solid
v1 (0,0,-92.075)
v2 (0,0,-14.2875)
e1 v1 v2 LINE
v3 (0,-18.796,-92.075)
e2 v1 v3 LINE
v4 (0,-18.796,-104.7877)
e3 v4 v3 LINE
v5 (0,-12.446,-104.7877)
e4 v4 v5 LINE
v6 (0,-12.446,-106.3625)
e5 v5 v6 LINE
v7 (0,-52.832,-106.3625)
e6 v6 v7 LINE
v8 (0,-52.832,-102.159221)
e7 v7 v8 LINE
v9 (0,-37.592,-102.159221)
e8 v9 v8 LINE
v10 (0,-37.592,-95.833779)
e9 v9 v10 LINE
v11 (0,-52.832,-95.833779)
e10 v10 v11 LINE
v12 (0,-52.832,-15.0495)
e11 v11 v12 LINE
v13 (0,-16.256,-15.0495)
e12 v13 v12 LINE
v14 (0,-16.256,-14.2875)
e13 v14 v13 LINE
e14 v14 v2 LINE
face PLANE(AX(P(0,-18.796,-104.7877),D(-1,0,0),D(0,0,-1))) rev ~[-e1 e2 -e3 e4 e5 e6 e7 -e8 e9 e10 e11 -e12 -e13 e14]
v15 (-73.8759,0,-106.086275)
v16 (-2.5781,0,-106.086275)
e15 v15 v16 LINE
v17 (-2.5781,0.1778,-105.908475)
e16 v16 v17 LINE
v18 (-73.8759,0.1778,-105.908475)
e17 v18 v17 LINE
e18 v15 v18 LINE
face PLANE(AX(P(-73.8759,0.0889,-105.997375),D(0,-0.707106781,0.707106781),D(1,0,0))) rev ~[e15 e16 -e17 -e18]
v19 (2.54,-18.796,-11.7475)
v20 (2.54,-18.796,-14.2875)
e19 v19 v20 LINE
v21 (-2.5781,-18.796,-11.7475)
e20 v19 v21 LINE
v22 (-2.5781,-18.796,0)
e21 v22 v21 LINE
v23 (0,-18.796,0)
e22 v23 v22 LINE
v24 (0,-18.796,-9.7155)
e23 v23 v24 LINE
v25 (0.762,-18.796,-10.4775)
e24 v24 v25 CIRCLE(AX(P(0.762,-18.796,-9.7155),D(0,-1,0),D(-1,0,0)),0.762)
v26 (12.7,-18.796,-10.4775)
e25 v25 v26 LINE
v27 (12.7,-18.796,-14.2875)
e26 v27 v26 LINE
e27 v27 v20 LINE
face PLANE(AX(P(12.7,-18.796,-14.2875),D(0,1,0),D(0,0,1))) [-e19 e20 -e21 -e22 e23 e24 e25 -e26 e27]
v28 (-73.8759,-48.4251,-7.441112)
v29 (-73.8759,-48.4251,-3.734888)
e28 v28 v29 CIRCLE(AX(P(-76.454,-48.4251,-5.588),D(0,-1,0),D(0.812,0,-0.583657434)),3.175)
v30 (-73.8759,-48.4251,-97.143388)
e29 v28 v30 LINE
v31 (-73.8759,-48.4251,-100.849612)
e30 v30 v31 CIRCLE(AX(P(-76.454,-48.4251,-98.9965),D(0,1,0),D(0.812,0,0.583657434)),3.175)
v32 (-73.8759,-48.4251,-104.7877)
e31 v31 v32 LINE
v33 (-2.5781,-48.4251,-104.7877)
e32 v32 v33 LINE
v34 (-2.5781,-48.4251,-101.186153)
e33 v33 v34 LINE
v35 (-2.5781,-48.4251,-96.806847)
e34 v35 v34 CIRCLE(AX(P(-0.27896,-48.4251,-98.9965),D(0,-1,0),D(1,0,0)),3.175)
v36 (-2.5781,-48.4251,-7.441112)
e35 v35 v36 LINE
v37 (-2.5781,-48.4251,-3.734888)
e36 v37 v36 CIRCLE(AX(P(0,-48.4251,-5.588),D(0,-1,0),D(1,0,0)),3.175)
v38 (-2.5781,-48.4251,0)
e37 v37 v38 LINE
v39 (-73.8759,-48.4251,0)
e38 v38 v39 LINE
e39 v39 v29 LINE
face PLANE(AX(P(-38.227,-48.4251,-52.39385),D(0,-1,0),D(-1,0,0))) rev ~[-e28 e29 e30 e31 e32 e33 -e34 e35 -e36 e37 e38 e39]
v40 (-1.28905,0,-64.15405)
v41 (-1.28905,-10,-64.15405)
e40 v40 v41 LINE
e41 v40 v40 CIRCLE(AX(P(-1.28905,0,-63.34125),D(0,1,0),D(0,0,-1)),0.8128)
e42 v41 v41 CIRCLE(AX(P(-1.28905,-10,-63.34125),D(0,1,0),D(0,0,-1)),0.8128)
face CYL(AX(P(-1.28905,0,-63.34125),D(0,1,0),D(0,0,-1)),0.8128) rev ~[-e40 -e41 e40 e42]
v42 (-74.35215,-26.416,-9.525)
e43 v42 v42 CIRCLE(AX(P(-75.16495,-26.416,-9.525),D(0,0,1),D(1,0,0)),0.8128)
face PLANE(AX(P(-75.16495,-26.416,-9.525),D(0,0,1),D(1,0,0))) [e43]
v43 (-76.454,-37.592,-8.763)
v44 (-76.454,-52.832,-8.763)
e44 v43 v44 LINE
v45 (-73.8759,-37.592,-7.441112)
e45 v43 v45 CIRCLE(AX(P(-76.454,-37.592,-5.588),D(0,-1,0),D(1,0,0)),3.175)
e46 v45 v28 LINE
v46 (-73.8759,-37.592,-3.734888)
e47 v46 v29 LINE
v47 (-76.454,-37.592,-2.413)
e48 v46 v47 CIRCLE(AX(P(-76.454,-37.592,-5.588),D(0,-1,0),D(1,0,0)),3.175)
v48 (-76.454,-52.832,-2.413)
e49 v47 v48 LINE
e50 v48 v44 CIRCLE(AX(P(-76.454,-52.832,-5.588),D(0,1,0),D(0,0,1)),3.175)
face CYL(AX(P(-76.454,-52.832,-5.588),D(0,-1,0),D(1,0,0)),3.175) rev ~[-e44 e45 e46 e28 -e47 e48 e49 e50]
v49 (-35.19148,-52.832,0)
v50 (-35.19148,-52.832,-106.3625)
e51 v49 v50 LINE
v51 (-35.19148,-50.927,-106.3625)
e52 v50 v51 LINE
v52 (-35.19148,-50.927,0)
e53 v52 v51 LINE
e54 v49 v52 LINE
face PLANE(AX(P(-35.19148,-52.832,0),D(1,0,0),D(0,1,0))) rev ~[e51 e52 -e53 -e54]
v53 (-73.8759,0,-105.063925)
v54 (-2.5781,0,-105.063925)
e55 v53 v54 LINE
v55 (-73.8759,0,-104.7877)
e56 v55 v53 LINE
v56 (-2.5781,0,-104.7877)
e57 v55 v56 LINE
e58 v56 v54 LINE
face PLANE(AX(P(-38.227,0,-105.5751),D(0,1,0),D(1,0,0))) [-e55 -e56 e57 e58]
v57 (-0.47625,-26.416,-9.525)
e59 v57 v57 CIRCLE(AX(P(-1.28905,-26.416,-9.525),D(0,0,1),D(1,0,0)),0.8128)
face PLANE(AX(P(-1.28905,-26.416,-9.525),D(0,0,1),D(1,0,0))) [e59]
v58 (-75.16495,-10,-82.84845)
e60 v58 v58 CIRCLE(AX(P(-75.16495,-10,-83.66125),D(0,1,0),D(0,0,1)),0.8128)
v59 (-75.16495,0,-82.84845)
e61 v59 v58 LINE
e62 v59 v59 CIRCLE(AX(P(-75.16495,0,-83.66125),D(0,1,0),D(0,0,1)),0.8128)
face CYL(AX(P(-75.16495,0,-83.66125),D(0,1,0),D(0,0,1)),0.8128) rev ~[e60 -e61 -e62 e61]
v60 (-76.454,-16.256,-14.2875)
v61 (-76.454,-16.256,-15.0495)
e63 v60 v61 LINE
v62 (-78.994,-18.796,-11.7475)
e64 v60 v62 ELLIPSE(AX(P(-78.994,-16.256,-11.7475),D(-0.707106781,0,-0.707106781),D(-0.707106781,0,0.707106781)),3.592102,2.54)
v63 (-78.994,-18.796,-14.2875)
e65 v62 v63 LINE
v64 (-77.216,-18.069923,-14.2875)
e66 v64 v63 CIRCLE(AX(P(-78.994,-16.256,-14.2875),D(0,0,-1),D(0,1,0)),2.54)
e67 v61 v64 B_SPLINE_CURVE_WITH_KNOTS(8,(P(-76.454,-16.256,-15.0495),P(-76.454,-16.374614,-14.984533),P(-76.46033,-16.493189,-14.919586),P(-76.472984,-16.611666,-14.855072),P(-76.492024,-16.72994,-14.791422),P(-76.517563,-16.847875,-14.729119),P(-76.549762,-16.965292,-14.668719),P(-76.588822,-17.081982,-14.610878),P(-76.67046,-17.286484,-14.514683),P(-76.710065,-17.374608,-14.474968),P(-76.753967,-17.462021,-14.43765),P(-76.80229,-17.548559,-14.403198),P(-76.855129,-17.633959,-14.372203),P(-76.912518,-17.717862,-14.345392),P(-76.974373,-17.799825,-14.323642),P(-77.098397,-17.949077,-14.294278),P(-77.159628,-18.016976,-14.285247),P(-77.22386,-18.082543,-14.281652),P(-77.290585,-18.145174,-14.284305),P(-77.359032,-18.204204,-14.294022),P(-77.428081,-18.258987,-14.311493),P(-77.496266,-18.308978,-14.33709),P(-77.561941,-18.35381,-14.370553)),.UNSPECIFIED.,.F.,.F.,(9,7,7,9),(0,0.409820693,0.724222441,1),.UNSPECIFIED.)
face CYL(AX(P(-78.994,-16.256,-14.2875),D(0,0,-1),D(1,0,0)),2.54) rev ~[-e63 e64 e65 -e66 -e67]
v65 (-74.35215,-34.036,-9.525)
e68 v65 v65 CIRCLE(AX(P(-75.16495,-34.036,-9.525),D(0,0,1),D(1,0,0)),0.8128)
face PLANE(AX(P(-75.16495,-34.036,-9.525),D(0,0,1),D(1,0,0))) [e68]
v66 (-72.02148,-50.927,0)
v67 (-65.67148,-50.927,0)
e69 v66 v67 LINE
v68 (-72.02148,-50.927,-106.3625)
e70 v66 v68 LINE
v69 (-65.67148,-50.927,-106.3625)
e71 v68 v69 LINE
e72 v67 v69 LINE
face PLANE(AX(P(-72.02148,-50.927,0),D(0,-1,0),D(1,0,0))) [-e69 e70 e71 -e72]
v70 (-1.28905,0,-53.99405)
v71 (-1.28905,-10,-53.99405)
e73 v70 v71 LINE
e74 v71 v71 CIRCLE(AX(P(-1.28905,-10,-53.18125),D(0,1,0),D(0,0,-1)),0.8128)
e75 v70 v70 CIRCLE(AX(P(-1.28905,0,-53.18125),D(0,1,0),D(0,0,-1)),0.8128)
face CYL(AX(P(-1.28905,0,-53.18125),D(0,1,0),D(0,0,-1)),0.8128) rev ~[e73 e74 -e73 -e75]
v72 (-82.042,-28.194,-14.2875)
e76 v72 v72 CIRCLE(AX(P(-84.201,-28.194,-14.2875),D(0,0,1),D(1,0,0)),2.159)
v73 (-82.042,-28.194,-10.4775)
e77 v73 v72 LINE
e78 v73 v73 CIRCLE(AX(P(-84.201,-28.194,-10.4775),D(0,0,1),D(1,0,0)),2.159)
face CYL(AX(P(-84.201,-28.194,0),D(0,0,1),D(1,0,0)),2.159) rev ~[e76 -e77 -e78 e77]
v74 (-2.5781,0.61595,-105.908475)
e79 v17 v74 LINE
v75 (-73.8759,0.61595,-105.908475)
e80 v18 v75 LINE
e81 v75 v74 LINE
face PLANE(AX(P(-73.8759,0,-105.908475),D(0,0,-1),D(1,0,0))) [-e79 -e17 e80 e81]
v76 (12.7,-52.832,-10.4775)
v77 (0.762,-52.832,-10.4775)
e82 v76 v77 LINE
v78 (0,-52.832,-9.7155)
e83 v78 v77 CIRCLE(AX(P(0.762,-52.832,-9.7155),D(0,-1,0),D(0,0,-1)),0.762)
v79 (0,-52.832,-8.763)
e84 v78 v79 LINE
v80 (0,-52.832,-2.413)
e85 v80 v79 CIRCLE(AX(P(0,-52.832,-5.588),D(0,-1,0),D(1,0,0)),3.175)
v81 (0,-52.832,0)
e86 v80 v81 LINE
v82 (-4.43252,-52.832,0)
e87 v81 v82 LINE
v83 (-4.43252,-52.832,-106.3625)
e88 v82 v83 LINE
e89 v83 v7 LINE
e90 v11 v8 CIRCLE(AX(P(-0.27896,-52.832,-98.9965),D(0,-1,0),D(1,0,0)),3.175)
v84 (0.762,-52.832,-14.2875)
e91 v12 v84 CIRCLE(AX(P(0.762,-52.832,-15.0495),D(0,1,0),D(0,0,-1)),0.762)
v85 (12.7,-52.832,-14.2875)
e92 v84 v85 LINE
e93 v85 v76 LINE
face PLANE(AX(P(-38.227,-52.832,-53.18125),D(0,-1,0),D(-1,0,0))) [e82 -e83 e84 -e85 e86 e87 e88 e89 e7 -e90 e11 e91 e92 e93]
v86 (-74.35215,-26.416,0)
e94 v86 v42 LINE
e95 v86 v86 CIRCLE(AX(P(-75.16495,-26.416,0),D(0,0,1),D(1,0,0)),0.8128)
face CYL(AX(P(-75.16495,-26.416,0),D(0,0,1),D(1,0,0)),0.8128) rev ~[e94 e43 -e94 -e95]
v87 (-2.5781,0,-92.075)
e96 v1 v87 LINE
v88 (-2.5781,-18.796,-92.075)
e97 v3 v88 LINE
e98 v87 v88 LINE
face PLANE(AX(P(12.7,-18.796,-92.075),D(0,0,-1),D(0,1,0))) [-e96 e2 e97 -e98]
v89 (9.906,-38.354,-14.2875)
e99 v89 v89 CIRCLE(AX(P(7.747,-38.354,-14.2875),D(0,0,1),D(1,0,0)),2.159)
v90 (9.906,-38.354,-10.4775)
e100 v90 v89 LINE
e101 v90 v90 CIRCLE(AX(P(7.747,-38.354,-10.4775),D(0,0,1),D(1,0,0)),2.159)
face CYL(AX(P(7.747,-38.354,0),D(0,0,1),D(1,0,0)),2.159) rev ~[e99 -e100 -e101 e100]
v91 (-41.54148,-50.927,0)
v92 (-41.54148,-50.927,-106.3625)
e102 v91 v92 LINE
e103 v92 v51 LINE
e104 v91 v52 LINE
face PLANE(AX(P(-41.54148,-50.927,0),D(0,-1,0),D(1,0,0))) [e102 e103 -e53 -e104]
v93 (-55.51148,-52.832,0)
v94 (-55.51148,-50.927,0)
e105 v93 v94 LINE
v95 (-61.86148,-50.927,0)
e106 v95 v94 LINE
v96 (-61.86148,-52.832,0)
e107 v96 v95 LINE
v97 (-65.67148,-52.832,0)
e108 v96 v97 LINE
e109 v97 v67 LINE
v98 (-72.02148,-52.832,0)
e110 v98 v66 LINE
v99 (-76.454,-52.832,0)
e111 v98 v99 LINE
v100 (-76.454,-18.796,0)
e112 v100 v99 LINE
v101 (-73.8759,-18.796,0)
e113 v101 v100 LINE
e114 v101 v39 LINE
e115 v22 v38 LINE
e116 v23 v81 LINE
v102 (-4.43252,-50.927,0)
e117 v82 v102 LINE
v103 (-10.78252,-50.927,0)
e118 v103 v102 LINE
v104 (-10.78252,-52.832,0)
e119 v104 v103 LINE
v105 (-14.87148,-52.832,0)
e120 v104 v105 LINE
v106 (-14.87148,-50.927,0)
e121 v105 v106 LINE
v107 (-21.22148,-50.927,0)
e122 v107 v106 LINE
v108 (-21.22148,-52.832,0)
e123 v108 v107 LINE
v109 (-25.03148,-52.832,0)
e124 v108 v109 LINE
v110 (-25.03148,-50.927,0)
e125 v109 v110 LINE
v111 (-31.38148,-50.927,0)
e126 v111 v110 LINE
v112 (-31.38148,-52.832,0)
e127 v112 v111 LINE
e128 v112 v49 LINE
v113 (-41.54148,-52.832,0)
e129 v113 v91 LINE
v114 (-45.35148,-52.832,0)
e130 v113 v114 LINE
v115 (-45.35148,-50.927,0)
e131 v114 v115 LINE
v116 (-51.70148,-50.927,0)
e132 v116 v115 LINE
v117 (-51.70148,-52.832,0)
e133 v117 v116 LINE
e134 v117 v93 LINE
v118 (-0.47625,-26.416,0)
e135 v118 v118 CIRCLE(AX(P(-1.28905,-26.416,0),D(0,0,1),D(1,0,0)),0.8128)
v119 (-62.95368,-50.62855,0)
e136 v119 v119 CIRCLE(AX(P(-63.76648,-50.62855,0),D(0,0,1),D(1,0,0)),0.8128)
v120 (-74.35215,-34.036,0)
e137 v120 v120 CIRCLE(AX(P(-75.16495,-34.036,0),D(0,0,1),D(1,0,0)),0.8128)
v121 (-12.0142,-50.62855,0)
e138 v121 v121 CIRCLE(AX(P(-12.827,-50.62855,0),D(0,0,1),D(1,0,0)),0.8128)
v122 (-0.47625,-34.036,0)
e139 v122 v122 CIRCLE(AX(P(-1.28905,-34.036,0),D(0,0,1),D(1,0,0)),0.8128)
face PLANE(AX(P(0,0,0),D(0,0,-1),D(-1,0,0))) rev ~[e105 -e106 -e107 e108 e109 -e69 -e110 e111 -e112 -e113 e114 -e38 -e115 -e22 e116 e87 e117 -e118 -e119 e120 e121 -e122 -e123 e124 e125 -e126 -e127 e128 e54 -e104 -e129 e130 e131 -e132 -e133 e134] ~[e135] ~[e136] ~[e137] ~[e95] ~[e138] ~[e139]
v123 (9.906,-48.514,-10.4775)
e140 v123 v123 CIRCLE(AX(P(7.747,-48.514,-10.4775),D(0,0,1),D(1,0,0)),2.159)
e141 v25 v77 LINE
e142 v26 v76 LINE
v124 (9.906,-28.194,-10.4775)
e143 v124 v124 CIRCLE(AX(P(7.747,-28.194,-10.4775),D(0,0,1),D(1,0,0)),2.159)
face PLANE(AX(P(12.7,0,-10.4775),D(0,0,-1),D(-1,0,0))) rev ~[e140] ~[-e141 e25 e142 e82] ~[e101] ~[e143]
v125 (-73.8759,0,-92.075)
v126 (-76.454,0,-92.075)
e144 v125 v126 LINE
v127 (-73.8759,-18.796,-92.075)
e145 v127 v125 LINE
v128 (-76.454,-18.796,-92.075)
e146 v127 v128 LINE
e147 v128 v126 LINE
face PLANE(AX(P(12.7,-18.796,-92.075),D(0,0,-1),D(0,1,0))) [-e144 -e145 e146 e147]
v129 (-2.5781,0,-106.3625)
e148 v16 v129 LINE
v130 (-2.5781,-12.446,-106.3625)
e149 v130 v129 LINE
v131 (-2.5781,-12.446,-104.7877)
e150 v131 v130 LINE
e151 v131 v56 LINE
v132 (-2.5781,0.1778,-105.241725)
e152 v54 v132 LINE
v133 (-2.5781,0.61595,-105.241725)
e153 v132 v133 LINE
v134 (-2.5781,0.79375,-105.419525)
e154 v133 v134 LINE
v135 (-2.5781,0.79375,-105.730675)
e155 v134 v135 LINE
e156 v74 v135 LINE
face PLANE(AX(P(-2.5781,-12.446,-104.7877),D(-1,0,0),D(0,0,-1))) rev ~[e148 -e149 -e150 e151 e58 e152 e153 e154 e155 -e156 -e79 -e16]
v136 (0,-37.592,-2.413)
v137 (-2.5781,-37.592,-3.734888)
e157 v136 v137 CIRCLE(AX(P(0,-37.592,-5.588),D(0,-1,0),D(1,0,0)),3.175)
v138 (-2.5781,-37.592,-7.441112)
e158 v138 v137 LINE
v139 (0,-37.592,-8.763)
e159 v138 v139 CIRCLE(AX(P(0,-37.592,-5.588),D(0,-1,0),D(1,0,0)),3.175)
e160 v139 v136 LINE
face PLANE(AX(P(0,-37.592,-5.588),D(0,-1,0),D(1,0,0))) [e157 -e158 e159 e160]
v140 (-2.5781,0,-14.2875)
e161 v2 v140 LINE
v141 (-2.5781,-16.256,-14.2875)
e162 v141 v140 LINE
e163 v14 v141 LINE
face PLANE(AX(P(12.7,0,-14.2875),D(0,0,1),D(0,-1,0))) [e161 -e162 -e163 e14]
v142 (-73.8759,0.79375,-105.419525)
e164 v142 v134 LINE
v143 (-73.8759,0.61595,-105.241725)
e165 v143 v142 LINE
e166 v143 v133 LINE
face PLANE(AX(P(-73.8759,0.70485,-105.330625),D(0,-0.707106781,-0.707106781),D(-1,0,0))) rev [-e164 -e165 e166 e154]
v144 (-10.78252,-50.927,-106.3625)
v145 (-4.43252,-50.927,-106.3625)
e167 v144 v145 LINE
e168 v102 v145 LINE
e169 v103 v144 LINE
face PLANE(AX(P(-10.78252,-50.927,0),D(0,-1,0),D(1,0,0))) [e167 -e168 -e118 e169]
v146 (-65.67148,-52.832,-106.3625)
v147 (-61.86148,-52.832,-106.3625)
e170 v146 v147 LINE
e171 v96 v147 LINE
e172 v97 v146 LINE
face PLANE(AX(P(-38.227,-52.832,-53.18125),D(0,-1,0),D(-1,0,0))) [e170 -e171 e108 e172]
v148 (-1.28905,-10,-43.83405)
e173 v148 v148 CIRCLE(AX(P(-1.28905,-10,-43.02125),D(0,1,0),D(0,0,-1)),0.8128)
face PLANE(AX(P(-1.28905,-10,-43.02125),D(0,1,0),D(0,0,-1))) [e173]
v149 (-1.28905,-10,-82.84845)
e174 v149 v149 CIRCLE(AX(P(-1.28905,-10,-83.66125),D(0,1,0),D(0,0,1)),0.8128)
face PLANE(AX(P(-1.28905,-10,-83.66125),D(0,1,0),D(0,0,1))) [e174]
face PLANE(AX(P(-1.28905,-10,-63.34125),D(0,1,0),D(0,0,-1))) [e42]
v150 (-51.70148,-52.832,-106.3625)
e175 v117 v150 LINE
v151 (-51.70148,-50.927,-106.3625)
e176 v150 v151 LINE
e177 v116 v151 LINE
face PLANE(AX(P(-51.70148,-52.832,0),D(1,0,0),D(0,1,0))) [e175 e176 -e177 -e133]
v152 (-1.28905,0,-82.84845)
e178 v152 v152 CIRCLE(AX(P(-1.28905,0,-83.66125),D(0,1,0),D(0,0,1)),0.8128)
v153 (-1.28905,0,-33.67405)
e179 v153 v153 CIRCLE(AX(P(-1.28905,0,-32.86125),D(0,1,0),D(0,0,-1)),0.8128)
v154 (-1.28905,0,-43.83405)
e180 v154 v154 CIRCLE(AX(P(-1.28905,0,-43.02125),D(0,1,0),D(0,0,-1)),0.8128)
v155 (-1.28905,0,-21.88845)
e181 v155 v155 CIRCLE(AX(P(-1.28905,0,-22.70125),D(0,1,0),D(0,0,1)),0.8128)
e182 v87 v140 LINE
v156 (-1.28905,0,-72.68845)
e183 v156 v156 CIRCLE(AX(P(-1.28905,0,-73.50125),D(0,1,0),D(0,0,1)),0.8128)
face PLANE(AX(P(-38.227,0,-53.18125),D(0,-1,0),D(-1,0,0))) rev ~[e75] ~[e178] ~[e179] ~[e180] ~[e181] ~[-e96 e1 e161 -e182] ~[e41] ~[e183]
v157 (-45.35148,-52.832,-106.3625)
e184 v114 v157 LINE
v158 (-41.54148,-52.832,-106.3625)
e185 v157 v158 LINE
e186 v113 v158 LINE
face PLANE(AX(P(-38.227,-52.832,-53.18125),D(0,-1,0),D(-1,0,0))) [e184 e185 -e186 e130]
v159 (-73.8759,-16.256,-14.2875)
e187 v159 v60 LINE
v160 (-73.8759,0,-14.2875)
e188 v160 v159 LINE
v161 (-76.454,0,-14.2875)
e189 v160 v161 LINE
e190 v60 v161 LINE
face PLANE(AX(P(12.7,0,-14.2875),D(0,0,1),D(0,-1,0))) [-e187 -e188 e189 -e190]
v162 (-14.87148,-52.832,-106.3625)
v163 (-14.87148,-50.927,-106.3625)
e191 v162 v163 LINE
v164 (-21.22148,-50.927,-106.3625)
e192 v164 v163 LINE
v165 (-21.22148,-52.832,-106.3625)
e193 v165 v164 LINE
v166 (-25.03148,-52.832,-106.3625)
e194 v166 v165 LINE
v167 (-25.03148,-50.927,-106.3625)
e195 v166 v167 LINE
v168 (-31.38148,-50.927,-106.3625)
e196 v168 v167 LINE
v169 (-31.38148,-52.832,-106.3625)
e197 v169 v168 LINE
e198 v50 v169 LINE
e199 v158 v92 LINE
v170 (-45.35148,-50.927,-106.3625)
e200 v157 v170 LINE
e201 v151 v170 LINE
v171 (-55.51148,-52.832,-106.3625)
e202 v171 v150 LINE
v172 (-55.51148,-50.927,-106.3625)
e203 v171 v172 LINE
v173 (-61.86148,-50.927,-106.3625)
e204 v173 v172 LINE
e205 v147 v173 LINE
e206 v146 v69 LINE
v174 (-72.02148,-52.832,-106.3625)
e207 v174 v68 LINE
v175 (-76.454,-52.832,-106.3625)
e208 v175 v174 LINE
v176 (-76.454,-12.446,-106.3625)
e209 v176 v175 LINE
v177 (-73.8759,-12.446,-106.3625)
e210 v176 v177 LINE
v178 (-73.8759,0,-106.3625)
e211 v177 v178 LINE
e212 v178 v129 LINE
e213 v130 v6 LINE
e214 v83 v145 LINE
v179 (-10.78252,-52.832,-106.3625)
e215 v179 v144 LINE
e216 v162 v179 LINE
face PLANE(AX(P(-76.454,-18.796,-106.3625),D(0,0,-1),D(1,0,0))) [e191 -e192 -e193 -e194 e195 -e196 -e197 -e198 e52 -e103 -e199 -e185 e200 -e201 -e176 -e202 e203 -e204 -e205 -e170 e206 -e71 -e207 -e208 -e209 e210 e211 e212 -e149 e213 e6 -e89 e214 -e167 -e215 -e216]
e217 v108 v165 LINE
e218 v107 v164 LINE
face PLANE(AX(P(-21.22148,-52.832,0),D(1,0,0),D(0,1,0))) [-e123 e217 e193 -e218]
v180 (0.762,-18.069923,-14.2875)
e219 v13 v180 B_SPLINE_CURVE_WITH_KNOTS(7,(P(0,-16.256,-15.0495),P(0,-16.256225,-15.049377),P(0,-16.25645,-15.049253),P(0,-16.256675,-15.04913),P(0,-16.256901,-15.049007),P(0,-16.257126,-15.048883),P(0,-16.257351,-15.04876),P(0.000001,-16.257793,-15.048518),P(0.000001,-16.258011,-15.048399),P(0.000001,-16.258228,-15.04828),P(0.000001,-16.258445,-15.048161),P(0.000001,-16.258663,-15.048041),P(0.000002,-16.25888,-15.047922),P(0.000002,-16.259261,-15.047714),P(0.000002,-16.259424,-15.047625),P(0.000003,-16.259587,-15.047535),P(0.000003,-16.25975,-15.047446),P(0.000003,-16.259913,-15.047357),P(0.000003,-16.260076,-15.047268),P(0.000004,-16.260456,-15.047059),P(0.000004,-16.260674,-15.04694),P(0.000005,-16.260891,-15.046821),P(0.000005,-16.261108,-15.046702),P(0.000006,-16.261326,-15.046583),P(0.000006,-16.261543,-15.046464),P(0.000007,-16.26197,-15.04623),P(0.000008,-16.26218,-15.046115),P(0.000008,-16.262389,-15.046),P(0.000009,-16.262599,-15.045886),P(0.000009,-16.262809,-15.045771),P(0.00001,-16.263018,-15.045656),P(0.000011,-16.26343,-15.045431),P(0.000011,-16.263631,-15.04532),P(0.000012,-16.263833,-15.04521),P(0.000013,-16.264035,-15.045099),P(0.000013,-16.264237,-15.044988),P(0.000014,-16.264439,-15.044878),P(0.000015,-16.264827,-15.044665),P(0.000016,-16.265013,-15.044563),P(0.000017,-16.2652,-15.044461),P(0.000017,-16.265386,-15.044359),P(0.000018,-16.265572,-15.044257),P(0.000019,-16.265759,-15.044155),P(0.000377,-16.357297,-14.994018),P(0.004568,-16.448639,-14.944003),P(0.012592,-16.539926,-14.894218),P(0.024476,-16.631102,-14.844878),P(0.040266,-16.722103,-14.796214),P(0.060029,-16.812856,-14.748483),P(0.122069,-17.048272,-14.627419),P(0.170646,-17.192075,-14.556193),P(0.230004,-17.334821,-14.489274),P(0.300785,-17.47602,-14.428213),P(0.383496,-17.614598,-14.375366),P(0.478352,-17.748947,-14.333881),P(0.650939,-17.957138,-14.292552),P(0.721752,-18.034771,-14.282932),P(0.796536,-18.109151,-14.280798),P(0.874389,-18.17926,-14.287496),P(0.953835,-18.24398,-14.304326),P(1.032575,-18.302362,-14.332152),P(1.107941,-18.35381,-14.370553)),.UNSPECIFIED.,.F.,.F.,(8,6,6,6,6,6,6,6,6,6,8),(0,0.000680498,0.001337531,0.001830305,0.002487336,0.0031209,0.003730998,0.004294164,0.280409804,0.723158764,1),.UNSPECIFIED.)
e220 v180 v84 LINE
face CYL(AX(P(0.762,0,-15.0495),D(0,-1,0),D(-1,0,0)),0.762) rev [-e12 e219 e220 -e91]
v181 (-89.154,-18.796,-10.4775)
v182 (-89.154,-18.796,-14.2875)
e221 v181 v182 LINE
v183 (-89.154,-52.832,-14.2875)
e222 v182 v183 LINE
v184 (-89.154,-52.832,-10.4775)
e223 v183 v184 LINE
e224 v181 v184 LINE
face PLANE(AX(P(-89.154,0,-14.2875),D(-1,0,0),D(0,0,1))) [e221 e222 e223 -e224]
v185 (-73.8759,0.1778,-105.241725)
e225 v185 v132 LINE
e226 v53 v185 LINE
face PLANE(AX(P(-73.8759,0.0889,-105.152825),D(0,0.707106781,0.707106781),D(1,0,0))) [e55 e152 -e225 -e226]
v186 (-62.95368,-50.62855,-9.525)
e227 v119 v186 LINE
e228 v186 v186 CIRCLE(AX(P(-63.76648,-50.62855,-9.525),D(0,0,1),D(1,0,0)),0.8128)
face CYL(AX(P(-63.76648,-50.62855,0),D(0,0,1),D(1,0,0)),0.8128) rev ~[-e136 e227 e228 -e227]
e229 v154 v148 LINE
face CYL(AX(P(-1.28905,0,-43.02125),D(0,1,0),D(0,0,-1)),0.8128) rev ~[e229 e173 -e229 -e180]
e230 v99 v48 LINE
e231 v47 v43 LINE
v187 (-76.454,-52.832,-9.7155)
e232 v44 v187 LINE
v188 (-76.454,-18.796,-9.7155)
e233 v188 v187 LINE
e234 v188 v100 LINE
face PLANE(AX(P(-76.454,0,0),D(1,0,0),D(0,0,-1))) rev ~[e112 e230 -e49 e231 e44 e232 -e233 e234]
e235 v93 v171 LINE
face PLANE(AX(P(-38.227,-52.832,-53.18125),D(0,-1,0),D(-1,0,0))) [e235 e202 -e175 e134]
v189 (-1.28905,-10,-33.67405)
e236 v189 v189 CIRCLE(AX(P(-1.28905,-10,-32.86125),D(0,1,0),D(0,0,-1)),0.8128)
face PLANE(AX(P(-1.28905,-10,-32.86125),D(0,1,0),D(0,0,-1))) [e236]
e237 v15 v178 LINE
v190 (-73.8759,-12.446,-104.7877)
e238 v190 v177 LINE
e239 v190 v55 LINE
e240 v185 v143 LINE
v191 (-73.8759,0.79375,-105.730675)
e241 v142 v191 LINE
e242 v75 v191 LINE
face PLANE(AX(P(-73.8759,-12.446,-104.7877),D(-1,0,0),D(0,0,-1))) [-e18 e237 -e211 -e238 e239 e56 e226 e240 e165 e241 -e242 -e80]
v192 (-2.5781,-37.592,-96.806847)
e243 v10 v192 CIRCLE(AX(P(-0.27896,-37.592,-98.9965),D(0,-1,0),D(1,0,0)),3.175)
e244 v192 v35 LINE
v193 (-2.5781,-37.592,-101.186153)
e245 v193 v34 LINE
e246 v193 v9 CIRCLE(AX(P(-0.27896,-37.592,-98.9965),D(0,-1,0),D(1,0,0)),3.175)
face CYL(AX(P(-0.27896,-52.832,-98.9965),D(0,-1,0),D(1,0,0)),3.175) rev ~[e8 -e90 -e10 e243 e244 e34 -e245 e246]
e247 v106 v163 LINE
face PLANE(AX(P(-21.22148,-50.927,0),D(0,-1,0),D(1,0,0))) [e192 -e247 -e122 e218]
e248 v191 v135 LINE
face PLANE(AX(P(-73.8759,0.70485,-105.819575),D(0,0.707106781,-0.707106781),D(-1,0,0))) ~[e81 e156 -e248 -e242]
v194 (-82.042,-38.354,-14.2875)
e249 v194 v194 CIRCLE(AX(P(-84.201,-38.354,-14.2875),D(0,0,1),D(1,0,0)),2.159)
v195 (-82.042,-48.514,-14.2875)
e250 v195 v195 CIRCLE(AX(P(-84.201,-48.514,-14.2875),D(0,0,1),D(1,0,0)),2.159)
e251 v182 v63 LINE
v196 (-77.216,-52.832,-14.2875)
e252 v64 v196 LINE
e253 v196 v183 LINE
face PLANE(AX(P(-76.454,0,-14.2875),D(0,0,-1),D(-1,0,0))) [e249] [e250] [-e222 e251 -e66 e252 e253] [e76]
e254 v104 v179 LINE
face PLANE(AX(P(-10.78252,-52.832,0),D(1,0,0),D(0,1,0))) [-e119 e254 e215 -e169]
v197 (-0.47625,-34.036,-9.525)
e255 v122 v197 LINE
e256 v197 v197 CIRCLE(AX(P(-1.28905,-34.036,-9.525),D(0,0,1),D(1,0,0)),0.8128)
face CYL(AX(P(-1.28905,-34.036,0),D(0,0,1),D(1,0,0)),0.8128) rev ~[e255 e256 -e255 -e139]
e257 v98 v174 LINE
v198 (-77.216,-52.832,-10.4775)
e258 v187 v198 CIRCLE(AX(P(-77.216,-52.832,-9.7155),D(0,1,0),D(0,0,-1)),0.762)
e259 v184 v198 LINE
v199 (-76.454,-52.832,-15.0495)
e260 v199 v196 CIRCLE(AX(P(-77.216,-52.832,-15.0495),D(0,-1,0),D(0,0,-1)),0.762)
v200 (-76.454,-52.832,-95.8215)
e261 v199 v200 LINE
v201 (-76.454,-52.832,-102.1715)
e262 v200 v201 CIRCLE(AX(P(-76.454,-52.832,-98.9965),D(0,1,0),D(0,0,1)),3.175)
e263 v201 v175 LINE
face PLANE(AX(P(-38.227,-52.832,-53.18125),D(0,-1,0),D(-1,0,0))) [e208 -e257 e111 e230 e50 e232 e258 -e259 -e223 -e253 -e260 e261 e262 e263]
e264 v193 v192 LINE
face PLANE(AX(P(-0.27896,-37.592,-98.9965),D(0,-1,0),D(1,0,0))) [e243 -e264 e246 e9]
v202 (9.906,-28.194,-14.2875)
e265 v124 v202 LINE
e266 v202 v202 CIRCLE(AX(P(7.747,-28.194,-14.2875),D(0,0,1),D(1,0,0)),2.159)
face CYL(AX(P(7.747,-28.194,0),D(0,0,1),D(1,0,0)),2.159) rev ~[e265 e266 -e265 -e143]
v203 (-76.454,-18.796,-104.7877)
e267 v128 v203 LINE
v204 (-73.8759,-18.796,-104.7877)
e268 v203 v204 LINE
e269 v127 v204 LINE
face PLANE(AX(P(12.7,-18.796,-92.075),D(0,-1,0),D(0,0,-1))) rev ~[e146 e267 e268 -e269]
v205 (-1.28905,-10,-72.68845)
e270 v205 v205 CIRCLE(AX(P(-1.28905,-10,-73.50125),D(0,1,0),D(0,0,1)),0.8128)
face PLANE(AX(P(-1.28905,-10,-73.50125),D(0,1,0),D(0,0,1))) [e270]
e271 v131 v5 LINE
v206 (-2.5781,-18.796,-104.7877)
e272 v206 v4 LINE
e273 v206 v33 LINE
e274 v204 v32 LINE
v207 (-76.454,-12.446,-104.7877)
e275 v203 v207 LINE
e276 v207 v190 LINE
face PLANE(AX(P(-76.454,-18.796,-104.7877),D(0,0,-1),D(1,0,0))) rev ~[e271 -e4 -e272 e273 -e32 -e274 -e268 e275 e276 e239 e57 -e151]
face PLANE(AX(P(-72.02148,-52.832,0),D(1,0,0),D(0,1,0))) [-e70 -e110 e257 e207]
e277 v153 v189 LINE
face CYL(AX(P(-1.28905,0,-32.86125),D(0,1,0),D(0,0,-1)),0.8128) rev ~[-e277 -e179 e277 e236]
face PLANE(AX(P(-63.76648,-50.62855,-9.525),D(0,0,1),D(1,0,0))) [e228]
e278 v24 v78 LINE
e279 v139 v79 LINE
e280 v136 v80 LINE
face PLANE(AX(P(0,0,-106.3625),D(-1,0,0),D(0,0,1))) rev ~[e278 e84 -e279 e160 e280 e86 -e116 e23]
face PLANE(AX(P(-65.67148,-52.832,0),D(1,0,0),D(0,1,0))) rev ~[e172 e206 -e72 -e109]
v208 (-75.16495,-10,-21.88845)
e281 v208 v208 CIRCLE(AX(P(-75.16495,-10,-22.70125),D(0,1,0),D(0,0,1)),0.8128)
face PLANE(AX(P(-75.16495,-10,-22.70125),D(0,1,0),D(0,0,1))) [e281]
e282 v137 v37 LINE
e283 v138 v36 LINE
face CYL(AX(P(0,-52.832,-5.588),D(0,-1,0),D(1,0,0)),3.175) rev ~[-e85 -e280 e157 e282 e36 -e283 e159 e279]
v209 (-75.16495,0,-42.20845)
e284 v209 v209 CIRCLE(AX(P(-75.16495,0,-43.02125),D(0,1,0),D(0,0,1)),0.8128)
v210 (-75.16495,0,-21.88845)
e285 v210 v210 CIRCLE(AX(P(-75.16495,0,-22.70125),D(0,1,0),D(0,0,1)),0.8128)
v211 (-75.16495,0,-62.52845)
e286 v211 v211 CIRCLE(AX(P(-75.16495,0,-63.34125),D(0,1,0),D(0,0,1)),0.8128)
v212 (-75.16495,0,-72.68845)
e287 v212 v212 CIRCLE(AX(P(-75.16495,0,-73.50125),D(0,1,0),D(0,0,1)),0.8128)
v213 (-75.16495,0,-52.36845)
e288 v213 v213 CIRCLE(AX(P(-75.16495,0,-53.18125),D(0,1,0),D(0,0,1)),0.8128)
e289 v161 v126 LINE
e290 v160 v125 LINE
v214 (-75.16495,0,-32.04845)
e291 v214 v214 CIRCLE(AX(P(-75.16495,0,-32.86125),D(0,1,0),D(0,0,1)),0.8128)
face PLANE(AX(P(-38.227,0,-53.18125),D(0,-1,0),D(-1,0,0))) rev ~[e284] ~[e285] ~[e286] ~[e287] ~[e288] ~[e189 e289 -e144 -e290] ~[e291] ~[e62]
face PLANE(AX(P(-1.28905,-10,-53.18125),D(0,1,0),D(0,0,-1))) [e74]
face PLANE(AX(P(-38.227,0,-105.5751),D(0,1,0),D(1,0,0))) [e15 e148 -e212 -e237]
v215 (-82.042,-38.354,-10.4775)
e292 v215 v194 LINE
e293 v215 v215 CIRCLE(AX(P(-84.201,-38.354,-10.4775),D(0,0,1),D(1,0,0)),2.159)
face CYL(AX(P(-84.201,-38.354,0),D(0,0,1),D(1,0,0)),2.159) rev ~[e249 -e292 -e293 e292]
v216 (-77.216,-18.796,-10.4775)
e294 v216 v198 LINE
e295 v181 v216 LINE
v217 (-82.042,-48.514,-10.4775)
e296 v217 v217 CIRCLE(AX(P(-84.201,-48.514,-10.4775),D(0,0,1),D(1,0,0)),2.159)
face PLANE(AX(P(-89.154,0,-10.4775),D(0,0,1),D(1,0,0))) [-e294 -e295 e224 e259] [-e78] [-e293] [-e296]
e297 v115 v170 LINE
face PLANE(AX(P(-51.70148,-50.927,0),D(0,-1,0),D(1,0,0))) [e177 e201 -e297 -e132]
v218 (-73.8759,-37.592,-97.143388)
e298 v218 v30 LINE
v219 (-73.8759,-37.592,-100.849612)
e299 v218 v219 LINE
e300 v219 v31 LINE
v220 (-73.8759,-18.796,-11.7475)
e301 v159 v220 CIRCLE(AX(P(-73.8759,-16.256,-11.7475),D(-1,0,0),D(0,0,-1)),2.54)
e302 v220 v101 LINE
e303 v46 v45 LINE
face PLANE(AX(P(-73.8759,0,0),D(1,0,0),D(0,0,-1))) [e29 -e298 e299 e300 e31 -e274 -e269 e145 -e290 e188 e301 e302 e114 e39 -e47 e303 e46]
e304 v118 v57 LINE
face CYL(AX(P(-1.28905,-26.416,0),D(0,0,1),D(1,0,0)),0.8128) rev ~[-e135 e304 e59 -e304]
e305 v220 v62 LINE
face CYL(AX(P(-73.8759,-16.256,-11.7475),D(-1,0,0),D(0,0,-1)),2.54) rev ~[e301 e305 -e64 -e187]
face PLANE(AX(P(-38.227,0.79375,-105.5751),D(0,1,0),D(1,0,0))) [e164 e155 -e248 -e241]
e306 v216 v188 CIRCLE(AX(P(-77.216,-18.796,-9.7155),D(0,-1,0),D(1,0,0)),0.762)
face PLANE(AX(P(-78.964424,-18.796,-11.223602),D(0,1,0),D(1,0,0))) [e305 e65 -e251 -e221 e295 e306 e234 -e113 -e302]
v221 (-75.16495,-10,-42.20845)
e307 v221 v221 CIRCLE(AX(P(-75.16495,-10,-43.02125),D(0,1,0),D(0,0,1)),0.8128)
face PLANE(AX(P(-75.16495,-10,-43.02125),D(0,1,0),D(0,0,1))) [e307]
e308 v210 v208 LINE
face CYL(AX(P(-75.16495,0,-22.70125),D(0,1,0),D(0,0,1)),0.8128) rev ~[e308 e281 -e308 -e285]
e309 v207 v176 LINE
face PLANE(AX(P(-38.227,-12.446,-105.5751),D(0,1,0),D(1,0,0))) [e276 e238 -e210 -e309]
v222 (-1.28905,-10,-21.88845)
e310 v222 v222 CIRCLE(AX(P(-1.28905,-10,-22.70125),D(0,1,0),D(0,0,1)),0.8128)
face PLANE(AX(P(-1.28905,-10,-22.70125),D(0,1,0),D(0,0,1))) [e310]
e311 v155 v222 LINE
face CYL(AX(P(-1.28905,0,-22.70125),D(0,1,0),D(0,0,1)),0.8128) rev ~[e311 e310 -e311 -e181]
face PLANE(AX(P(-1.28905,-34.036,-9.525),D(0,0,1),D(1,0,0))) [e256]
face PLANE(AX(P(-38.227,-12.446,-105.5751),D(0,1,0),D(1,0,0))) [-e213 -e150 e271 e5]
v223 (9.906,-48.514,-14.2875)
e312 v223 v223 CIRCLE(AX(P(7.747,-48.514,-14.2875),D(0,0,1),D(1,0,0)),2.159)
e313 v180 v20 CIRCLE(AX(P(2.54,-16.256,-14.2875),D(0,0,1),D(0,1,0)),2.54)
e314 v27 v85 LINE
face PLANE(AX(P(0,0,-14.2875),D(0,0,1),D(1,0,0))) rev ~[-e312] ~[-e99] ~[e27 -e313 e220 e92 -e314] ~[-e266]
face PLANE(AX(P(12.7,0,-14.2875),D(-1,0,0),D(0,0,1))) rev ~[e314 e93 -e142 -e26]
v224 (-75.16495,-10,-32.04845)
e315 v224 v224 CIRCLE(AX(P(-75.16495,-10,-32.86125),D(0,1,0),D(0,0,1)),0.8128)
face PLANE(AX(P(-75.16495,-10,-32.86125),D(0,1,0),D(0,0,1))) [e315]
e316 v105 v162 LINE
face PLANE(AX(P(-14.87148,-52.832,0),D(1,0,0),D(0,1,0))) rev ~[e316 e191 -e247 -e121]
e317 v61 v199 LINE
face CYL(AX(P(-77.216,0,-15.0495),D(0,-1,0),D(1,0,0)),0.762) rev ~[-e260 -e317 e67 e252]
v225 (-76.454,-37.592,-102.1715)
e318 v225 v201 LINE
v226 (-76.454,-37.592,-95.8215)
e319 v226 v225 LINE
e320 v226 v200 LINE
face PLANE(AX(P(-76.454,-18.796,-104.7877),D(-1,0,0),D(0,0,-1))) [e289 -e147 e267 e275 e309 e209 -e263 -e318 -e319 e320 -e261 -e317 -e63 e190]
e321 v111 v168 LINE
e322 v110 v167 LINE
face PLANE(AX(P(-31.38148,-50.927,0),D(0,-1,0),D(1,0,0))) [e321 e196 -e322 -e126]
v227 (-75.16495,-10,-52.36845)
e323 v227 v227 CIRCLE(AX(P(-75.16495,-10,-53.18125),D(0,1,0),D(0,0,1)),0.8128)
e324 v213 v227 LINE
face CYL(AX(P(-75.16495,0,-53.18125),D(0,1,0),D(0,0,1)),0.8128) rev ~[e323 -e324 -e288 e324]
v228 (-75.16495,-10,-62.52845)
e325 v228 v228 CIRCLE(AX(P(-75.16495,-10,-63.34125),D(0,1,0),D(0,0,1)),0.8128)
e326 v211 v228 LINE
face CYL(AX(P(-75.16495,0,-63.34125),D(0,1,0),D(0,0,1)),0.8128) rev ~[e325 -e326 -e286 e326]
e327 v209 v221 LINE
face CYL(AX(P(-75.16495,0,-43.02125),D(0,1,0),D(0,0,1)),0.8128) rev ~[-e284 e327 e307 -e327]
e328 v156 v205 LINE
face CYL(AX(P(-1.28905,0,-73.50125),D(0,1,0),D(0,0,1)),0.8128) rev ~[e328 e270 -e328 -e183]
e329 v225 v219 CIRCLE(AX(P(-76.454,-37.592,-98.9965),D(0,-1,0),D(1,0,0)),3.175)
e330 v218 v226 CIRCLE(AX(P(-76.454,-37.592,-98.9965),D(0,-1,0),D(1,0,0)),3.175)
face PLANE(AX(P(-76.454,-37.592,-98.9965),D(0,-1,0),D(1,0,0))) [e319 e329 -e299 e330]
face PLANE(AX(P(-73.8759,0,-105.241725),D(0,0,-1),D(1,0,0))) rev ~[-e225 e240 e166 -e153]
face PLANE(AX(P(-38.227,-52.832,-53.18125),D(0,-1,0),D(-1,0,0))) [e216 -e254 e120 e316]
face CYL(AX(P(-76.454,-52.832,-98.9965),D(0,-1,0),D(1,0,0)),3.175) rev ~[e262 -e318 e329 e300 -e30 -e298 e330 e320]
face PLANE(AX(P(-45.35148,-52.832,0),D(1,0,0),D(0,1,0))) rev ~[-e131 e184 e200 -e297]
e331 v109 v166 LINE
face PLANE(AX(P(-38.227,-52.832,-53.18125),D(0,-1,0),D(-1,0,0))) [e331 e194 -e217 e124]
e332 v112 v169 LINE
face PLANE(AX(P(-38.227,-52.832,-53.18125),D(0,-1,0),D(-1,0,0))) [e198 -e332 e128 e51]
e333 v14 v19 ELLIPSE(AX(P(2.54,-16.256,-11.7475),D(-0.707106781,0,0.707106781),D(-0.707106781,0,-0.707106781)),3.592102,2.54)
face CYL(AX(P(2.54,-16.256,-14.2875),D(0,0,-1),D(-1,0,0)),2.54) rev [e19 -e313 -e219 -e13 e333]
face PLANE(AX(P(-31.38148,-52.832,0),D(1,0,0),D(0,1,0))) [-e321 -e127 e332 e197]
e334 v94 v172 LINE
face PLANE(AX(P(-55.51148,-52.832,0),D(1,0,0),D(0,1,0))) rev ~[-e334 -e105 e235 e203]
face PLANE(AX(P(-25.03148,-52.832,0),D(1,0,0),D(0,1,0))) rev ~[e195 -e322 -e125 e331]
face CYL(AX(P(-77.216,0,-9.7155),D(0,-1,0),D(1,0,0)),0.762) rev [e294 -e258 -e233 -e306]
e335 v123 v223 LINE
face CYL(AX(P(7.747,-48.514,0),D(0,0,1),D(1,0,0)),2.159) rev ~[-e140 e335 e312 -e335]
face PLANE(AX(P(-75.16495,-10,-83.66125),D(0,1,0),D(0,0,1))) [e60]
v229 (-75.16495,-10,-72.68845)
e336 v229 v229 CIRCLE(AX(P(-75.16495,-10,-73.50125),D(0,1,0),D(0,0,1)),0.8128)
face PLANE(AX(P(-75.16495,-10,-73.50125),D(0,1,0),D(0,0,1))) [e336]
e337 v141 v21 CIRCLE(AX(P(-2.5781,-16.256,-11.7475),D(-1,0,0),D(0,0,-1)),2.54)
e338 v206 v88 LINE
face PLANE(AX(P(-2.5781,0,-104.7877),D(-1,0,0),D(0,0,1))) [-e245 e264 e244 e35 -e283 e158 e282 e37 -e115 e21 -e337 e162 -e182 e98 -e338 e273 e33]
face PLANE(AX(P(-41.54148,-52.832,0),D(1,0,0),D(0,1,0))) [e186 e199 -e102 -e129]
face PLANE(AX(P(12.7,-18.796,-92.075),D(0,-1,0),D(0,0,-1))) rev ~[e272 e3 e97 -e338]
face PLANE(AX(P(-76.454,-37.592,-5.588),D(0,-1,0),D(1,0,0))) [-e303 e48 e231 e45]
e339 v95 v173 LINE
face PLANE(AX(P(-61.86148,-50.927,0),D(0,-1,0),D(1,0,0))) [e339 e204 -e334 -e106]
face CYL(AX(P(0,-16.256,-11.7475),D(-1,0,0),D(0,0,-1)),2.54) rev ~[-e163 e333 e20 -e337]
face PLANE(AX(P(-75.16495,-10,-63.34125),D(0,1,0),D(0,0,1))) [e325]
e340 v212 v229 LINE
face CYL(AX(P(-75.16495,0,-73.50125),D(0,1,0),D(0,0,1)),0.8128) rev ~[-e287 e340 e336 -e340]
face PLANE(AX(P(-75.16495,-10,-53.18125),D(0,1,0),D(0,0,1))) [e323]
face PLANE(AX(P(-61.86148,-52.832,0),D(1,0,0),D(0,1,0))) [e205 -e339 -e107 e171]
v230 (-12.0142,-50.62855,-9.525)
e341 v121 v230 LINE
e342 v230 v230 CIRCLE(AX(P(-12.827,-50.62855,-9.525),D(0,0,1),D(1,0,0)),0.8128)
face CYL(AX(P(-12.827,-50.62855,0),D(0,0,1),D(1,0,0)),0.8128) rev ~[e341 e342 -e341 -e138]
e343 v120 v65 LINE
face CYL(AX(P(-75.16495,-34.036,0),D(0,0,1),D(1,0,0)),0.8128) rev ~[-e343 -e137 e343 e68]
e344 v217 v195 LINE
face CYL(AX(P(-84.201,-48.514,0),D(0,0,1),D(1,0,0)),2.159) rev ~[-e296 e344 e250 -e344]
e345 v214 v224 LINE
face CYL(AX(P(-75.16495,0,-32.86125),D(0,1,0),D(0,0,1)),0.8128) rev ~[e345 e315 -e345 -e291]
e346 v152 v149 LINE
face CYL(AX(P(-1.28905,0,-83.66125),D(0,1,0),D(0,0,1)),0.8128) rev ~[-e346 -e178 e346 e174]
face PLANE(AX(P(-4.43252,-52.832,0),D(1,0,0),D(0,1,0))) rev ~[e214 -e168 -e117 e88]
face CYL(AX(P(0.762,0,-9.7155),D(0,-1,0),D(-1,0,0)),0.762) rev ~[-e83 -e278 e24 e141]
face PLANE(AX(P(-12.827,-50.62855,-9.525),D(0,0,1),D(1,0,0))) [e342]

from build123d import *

# Parameters (mm, degrees)
BASE_DEPTH         = 52.831999999999994
BATTERY_HOLE_DEPTH = 48.4251
EXTRUDE3_DEPTH     = 52.831999999999994
FILLET1_R          = 0.762
SKETCH6_W          = 6.350000000000001
SKETCH6_H          = 1.904999999999987
SKETCH6_W_2        = 6.349999999999994
EXTRUDE5_DEPTH     = 106.3625
SKETCH5_R          = 0.812800000000009
SKETCH5_R_2        = 0.8128000000000078
SKETCH5_R_3        = 0.812799999999968
EXTRUDE6_DEPTH     = 9.525
SKETCH10_R         = 3.1749999999999976
SKETCH10_R_2       = 3.1750000000000003
EXTRUDE8_DEPTH     = 15.239999999999998
SKETCH12_W         = 14.28749999999998
SKETCH12_H         = 18.795999999999985
EXTRUDE9_DEPTH     = 157.4558690054483
SKETCH13_R         = 0.8128000000000039
SKETCH13_R_2       = 0.8128000000000078
SKETCH13_R_3       = 0.812800000000012
EXTRUDE10_DEPTH    = 10
SKETCH16_R         = 3.174999999999997
EXTRUDE13_DEPTH    = 15.239999999999998
SKETCH17_W         = 76.454
SKETCH17_H         = 1.5747999999999962
EXTRUDE14_DEPTH    = 6.35
SKETCH19_R         = 2.158999999999993
SKETCH19_R_2       = 2.159
SKETCH19_R_3       = 2.158999999999994
EXTRUDE15_DEPTH    = 14.2875
SKETCH20_R         = 0.8128000000000078
SKETCH20_R_2       = 0.8127999999999996
EXTRUDE16_DEPTH    = 9.525
SKETCH22_W         = 71.2978
SKETCH22_H         = 1.5747999999999962
EXTRUDE17_DEPTH    = 12.446
SKETCH24_W         = 5.020847259377149
SKETCH24_H         = 12.98126293619711
SKETCH24_W_2       = 5.020847259377153
SKETCH24_H_2       = 12.9812629361971
EXTRUDE18_DEPTH    = 18.796
FILLET2_R          = 2.54
SKETCH25_W         = 71.29779999999998
SKETCH25_H         = 0.6667500000000075
EXTRUDE19_DEPTH    = 0.79375
CHAMFER1_SIZE      = 0.1778


with BuildPart() as part:
    # Sketch1 → base (new body)
    with BuildSketch(Plane(origin=(0, 0, 0), x_dir=(1, 0, 0), z_dir=(0, 1, 0))):
        Polygon((0, 0), (-76.454, 4.51e-15), (-76.454, 106.3625), (0, 106.3625), align=None)
    extrude(amount=-BASE_DEPTH)

    # Sketch2 → battery hole (cut)
    with BuildSketch(Plane(origin=(0, 0, 0), x_dir=(1, 0, 0), z_dir=(0, 1, 0))):
        Polygon((-73.8759, 104.78769999999999), (-2.5781000000000067, 104.78769999999999), (-2.578100000000014, 0), (-73.87589999999999, 0), align=None)
    extrude(amount=-BATTERY_HOLE_DEPTH, mode=Mode.SUBTRACT)

    # Sketch4 → Extrude3 (add)
    with BuildSketch(Plane(origin=(0, 0, 0), x_dir=(-1, 0, 0), z_dir=(0, 1, 0))):
        Polygon((76.45400000000001, -14.287499999999994), (89.154, -14.287499999999994), (89.154, -10.477499999999996), (76.45400000000001, -10.477499999999997), align=None)
        Polygon((0, -10.477499999999997), (0, -14.287499999999994), (-12.699999999999989, -14.287499999999994), (-12.699999999999989, -10.477499999999996), align=None)
    extrude(amount=-EXTRUDE3_DEPTH)

    # Fillet1
    fillet1_edges = [part.edges().sort_by_distance(p)[0] for p in [
        (0, -26.415999999999997, -14.287499999999994),
        (-76.45400000000001, -26.415999999999997, -14.287499999999994),
        (0, -26.415999999999997, -10.477499999999997),
        (-76.45400000000001, -26.415999999999997, -10.477499999999997),
    ]]
    fillet(fillet1_edges, radius=FILLET1_R)

    # Sketch6 → Extrude5 (cut)
    with BuildSketch(Plane.XY):
        with Locations((-58.68648014601246, -51.8795)):
            Rectangle(SKETCH6_W, SKETCH6_H)
        with Locations((-48.526480146012446, -51.8795)):
            Rectangle(SKETCH6_W_2, SKETCH6_H)
        with Locations((-38.366480146012435, -51.8795)):
            Rectangle(SKETCH6_W_2, SKETCH6_H)
        with Locations((-28.20648014601243, -51.8795)):
            Rectangle(SKETCH6_W_2, SKETCH6_H)
        with Locations((-18.046480146012428, -51.8795)):
            Rectangle(SKETCH6_W_2, SKETCH6_H)
        with Locations((-7.60751985398754, -51.8795)):
            Rectangle(SKETCH6_W_2, SKETCH6_H)
        with Locations((-68.84648014601245, -51.8795)):
            Rectangle(SKETCH6_W_2, SKETCH6_H)
    extrude(amount=-EXTRUDE5_DEPTH, mode=Mode.SUBTRACT)

    # Sketch5 → Extrude6 (cut)
    with BuildSketch(Plane.XY):
        with Locations((-75.16494999999998, -26.415999999999993)):
            Circle(SKETCH5_R)
        with Locations((-75.16494999999985, -34.03599999999999)):
            Circle(SKETCH5_R_2)
        with Locations((-1.289050000000194, -34.035999999999994)):
            Circle(SKETCH5_R_3)
        with Locations((-1.2890500000000276, -26.415999999999997)):
            Circle(SKETCH5_R)
    extrude(amount=-EXTRUDE6_DEPTH, mode=Mode.SUBTRACT)

    # Sketch10 → Extrude8 (cut)
    with BuildSketch(Plane.XZ.offset(52.831999999999994)):
        with Locations((-76.454, -5.587999999999997)):
            Circle(SKETCH10_R)
        with Locations((0, -5.587999999999997)):
            Circle(SKETCH10_R_2)
    extrude(amount=-EXTRUDE8_DEPTH, mode=Mode.SUBTRACT)

    # Sketch12 → Extrude9 (cut, through all)
    with BuildSketch(Plane(origin=(12.699999999999989, 0, 0), x_dir=(0, 0, -1), z_dir=(1, 0, 0))):
        Polygon((0, 0), (14.287499999999994, 0), (14.287499999999994, -18.796), (2.3e-15, -18.796), align=None)
        with Locations((99.21875, -9.397999999999993)):
            Rectangle(SKETCH12_W, SKETCH12_H)
    extrude(amount=-EXTRUDE9_DEPTH, mode=Mode.SUBTRACT)

    # Sketch13 → Extrude10 (cut)
    with BuildSketch(Plane(origin=(0, 0, 0), x_dir=(-1, 0, 0), z_dir=(0, 1, 0))):
        with Locations(Location((75.16495000000032, -83.66125, 0), (0, 0, 90))):
            Circle(SKETCH13_R)
        with Locations(Location((75.1649500000002, -73.50125, 0), (0, 0, 90))):
            Circle(SKETCH13_R_2)
        with Locations(Location((75.16494999999995, -43.021249999999995, 0), (0, 0, 90))):
            Circle(SKETCH13_R_2)
        with Locations(Location((1.289050000000111, -22.701249999999998, 0), (0, 0, 90))):
            Circle(SKETCH13_R_2)
        with Locations(Location((1.2890499999996945, -83.66125, 0), (0, 0, 90))):
            Circle(SKETCH13_R)
        with Locations(Location((1.2890499999998055, -73.50125000000001, 0), (0, 0, 90))):
            Circle(SKETCH13_R_3)
        with Locations(Location((75.1649500000001, -63.34125, 0), (0, 0, 90))):
            Circle(SKETCH13_R_2)
        with Locations(Location((75.16494999999999, -53.18125, 0), (0, 0, 90))):
            Circle(SKETCH13_R_2)
        with Locations(Location((75.16494999999992, -32.86124999999999, 0), (0, 0, 90))):
            Circle(SKETCH13_R_2)
        with Locations(Location((75.16494999999988, -22.701249999999998, 0), (0, 0, 90))):
            Circle(SKETCH13_R_2)
        with Locations(Location((1.2890500000000693, -32.86124999999999, 0), (0, 0, 270))):
            Circle(SKETCH13_R_2)
        with Locations(Location((1.2890500000000416, -43.021249999999995, 0), (0, 0, 270))):
            Circle(SKETCH13_R_2)
        with Locations(Location((1.2890500000000138, -53.18125, 0), (0, 0, 270))):
            Circle(SKETCH13_R_2)
        with Locations(Location((1.2890499999999028, -63.34125, 0), (0, 0, 270))):
            Circle(SKETCH13_R_2)
    extrude(amount=-EXTRUDE10_DEPTH, mode=Mode.SUBTRACT)

    # Sketch16 → Extrude13 (cut)
    with BuildSketch(Plane.XZ.offset(52.831999999999994)):
        with Locations((-76.454, -98.9965)):
            Circle(SKETCH16_R)
        with Locations((-0.27896029202487127, -98.9965)):
            Circle(SKETCH16_R)
    extrude(amount=-EXTRUDE13_DEPTH, mode=Mode.SUBTRACT)

    # Sketch17 → Extrude14 (add)
    with BuildSketch(Plane(origin=(0, -18.795999999999985, 0), x_dir=(1, 0, 0), z_dir=(0, 1, 0))):
        with Locations((-38.227, 105.57509999999999)):
            Rectangle(SKETCH17_W, SKETCH17_H)
    extrude(amount=EXTRUDE14_DEPTH)

    # Sketch19 → Extrude15 (cut)
    with BuildSketch(Plane.XY):
        with Locations((-84.201, -48.513999999999996)):
            Circle(SKETCH19_R)
        with Locations((-84.201, -38.35399999999999)):
            Circle(SKETCH19_R)
        with Locations((7.747000000000003, -48.513999999999996)):
            Circle(SKETCH19_R_2)
        with Locations((7.747000000000003, -38.35399999999999)):
            Circle(SKETCH19_R_2)
        with Locations((-84.201, -28.19399999999999)):
            Circle(SKETCH19_R_3)
        with Locations((7.747000000000003, -28.19399999999999)):
            Circle(SKETCH19_R_3)
    extrude(amount=-EXTRUDE15_DEPTH, mode=Mode.SUBTRACT)

    # Sketch20 → Extrude16 (cut)
    with BuildSketch(Plane.XY):
        with Locations((-63.766480146012455, -50.62855)):
            Circle(SKETCH20_R)
        with Locations((-12.826999999999984, -50.62855)):
            Circle(SKETCH20_R_2)
    extrude(amount=-EXTRUDE16_DEPTH, mode=Mode.SUBTRACT)

    # Sketch22 → Extrude17 (add)
    with BuildSketch(Plane(origin=(0, -12.445999999999987, 0), x_dir=(1, 0, 0), z_dir=(0, 1, 0))):
        with Locations((-38.227000000000004, 105.57509999999999)):
            Rectangle(SKETCH22_W, SKETCH22_H)
    extrude(amount=EXTRUDE17_DEPTH)

    # Sketch24 → Extrude18 (cut)
    with BuildSketch(Plane(origin=(0, 0, 0), x_dir=(1, 0, 0), z_dir=(0, 1, 0))):
        with Locations((-78.96442362968857, 11.223602435904425)):
            Rectangle(SKETCH24_W, SKETCH24_H)
        with Locations((2.5104236296885767, 11.223602435904418)):
            Rectangle(SKETCH24_W_2, SKETCH24_H_2)
    extrude(amount=-EXTRUDE18_DEPTH, mode=Mode.SUBTRACT)

    # Fillet2
    fillet2_edges = [part.edges().sort_by_distance(p)[0] for p in [
        (-1.2890500000000067, -18.796, -14.287499999999994),
        (-75.16494999999999, -18.796, -14.287499999999994),
        (-76.454, -18.796, -14.668499999999995),
        (0, -18.796, -14.668499999999995),
    ]]
    fillet(fillet2_edges, radius=FILLET2_R)

    # Sketch25 → Extrude19 (add)
    with BuildSketch(Plane(origin=(0, 0, 0), x_dir=(1, 0, 0), z_dir=(0, 1, 0))):
        with Locations((-38.227, 105.57509999999996)):
            Rectangle(SKETCH25_W, SKETCH25_H)
    extrude(amount=EXTRUDE19_DEPTH)

    # Chamfer1
    chamfer1_edges = [part.edges().sort_by_distance(p)[0] for p in [
        (-38.227, 0.79375, -105.90847499999997),
        (-38.227, 0.79375, -105.24172499999997),
        (-38.227, 0, -105.24172499999997),
        (-38.227, 0, -105.90847499999997),
    ]]
    chamfer(chamfer1_edges, length=CHAMFER1_SIZE)


solid = part.part
